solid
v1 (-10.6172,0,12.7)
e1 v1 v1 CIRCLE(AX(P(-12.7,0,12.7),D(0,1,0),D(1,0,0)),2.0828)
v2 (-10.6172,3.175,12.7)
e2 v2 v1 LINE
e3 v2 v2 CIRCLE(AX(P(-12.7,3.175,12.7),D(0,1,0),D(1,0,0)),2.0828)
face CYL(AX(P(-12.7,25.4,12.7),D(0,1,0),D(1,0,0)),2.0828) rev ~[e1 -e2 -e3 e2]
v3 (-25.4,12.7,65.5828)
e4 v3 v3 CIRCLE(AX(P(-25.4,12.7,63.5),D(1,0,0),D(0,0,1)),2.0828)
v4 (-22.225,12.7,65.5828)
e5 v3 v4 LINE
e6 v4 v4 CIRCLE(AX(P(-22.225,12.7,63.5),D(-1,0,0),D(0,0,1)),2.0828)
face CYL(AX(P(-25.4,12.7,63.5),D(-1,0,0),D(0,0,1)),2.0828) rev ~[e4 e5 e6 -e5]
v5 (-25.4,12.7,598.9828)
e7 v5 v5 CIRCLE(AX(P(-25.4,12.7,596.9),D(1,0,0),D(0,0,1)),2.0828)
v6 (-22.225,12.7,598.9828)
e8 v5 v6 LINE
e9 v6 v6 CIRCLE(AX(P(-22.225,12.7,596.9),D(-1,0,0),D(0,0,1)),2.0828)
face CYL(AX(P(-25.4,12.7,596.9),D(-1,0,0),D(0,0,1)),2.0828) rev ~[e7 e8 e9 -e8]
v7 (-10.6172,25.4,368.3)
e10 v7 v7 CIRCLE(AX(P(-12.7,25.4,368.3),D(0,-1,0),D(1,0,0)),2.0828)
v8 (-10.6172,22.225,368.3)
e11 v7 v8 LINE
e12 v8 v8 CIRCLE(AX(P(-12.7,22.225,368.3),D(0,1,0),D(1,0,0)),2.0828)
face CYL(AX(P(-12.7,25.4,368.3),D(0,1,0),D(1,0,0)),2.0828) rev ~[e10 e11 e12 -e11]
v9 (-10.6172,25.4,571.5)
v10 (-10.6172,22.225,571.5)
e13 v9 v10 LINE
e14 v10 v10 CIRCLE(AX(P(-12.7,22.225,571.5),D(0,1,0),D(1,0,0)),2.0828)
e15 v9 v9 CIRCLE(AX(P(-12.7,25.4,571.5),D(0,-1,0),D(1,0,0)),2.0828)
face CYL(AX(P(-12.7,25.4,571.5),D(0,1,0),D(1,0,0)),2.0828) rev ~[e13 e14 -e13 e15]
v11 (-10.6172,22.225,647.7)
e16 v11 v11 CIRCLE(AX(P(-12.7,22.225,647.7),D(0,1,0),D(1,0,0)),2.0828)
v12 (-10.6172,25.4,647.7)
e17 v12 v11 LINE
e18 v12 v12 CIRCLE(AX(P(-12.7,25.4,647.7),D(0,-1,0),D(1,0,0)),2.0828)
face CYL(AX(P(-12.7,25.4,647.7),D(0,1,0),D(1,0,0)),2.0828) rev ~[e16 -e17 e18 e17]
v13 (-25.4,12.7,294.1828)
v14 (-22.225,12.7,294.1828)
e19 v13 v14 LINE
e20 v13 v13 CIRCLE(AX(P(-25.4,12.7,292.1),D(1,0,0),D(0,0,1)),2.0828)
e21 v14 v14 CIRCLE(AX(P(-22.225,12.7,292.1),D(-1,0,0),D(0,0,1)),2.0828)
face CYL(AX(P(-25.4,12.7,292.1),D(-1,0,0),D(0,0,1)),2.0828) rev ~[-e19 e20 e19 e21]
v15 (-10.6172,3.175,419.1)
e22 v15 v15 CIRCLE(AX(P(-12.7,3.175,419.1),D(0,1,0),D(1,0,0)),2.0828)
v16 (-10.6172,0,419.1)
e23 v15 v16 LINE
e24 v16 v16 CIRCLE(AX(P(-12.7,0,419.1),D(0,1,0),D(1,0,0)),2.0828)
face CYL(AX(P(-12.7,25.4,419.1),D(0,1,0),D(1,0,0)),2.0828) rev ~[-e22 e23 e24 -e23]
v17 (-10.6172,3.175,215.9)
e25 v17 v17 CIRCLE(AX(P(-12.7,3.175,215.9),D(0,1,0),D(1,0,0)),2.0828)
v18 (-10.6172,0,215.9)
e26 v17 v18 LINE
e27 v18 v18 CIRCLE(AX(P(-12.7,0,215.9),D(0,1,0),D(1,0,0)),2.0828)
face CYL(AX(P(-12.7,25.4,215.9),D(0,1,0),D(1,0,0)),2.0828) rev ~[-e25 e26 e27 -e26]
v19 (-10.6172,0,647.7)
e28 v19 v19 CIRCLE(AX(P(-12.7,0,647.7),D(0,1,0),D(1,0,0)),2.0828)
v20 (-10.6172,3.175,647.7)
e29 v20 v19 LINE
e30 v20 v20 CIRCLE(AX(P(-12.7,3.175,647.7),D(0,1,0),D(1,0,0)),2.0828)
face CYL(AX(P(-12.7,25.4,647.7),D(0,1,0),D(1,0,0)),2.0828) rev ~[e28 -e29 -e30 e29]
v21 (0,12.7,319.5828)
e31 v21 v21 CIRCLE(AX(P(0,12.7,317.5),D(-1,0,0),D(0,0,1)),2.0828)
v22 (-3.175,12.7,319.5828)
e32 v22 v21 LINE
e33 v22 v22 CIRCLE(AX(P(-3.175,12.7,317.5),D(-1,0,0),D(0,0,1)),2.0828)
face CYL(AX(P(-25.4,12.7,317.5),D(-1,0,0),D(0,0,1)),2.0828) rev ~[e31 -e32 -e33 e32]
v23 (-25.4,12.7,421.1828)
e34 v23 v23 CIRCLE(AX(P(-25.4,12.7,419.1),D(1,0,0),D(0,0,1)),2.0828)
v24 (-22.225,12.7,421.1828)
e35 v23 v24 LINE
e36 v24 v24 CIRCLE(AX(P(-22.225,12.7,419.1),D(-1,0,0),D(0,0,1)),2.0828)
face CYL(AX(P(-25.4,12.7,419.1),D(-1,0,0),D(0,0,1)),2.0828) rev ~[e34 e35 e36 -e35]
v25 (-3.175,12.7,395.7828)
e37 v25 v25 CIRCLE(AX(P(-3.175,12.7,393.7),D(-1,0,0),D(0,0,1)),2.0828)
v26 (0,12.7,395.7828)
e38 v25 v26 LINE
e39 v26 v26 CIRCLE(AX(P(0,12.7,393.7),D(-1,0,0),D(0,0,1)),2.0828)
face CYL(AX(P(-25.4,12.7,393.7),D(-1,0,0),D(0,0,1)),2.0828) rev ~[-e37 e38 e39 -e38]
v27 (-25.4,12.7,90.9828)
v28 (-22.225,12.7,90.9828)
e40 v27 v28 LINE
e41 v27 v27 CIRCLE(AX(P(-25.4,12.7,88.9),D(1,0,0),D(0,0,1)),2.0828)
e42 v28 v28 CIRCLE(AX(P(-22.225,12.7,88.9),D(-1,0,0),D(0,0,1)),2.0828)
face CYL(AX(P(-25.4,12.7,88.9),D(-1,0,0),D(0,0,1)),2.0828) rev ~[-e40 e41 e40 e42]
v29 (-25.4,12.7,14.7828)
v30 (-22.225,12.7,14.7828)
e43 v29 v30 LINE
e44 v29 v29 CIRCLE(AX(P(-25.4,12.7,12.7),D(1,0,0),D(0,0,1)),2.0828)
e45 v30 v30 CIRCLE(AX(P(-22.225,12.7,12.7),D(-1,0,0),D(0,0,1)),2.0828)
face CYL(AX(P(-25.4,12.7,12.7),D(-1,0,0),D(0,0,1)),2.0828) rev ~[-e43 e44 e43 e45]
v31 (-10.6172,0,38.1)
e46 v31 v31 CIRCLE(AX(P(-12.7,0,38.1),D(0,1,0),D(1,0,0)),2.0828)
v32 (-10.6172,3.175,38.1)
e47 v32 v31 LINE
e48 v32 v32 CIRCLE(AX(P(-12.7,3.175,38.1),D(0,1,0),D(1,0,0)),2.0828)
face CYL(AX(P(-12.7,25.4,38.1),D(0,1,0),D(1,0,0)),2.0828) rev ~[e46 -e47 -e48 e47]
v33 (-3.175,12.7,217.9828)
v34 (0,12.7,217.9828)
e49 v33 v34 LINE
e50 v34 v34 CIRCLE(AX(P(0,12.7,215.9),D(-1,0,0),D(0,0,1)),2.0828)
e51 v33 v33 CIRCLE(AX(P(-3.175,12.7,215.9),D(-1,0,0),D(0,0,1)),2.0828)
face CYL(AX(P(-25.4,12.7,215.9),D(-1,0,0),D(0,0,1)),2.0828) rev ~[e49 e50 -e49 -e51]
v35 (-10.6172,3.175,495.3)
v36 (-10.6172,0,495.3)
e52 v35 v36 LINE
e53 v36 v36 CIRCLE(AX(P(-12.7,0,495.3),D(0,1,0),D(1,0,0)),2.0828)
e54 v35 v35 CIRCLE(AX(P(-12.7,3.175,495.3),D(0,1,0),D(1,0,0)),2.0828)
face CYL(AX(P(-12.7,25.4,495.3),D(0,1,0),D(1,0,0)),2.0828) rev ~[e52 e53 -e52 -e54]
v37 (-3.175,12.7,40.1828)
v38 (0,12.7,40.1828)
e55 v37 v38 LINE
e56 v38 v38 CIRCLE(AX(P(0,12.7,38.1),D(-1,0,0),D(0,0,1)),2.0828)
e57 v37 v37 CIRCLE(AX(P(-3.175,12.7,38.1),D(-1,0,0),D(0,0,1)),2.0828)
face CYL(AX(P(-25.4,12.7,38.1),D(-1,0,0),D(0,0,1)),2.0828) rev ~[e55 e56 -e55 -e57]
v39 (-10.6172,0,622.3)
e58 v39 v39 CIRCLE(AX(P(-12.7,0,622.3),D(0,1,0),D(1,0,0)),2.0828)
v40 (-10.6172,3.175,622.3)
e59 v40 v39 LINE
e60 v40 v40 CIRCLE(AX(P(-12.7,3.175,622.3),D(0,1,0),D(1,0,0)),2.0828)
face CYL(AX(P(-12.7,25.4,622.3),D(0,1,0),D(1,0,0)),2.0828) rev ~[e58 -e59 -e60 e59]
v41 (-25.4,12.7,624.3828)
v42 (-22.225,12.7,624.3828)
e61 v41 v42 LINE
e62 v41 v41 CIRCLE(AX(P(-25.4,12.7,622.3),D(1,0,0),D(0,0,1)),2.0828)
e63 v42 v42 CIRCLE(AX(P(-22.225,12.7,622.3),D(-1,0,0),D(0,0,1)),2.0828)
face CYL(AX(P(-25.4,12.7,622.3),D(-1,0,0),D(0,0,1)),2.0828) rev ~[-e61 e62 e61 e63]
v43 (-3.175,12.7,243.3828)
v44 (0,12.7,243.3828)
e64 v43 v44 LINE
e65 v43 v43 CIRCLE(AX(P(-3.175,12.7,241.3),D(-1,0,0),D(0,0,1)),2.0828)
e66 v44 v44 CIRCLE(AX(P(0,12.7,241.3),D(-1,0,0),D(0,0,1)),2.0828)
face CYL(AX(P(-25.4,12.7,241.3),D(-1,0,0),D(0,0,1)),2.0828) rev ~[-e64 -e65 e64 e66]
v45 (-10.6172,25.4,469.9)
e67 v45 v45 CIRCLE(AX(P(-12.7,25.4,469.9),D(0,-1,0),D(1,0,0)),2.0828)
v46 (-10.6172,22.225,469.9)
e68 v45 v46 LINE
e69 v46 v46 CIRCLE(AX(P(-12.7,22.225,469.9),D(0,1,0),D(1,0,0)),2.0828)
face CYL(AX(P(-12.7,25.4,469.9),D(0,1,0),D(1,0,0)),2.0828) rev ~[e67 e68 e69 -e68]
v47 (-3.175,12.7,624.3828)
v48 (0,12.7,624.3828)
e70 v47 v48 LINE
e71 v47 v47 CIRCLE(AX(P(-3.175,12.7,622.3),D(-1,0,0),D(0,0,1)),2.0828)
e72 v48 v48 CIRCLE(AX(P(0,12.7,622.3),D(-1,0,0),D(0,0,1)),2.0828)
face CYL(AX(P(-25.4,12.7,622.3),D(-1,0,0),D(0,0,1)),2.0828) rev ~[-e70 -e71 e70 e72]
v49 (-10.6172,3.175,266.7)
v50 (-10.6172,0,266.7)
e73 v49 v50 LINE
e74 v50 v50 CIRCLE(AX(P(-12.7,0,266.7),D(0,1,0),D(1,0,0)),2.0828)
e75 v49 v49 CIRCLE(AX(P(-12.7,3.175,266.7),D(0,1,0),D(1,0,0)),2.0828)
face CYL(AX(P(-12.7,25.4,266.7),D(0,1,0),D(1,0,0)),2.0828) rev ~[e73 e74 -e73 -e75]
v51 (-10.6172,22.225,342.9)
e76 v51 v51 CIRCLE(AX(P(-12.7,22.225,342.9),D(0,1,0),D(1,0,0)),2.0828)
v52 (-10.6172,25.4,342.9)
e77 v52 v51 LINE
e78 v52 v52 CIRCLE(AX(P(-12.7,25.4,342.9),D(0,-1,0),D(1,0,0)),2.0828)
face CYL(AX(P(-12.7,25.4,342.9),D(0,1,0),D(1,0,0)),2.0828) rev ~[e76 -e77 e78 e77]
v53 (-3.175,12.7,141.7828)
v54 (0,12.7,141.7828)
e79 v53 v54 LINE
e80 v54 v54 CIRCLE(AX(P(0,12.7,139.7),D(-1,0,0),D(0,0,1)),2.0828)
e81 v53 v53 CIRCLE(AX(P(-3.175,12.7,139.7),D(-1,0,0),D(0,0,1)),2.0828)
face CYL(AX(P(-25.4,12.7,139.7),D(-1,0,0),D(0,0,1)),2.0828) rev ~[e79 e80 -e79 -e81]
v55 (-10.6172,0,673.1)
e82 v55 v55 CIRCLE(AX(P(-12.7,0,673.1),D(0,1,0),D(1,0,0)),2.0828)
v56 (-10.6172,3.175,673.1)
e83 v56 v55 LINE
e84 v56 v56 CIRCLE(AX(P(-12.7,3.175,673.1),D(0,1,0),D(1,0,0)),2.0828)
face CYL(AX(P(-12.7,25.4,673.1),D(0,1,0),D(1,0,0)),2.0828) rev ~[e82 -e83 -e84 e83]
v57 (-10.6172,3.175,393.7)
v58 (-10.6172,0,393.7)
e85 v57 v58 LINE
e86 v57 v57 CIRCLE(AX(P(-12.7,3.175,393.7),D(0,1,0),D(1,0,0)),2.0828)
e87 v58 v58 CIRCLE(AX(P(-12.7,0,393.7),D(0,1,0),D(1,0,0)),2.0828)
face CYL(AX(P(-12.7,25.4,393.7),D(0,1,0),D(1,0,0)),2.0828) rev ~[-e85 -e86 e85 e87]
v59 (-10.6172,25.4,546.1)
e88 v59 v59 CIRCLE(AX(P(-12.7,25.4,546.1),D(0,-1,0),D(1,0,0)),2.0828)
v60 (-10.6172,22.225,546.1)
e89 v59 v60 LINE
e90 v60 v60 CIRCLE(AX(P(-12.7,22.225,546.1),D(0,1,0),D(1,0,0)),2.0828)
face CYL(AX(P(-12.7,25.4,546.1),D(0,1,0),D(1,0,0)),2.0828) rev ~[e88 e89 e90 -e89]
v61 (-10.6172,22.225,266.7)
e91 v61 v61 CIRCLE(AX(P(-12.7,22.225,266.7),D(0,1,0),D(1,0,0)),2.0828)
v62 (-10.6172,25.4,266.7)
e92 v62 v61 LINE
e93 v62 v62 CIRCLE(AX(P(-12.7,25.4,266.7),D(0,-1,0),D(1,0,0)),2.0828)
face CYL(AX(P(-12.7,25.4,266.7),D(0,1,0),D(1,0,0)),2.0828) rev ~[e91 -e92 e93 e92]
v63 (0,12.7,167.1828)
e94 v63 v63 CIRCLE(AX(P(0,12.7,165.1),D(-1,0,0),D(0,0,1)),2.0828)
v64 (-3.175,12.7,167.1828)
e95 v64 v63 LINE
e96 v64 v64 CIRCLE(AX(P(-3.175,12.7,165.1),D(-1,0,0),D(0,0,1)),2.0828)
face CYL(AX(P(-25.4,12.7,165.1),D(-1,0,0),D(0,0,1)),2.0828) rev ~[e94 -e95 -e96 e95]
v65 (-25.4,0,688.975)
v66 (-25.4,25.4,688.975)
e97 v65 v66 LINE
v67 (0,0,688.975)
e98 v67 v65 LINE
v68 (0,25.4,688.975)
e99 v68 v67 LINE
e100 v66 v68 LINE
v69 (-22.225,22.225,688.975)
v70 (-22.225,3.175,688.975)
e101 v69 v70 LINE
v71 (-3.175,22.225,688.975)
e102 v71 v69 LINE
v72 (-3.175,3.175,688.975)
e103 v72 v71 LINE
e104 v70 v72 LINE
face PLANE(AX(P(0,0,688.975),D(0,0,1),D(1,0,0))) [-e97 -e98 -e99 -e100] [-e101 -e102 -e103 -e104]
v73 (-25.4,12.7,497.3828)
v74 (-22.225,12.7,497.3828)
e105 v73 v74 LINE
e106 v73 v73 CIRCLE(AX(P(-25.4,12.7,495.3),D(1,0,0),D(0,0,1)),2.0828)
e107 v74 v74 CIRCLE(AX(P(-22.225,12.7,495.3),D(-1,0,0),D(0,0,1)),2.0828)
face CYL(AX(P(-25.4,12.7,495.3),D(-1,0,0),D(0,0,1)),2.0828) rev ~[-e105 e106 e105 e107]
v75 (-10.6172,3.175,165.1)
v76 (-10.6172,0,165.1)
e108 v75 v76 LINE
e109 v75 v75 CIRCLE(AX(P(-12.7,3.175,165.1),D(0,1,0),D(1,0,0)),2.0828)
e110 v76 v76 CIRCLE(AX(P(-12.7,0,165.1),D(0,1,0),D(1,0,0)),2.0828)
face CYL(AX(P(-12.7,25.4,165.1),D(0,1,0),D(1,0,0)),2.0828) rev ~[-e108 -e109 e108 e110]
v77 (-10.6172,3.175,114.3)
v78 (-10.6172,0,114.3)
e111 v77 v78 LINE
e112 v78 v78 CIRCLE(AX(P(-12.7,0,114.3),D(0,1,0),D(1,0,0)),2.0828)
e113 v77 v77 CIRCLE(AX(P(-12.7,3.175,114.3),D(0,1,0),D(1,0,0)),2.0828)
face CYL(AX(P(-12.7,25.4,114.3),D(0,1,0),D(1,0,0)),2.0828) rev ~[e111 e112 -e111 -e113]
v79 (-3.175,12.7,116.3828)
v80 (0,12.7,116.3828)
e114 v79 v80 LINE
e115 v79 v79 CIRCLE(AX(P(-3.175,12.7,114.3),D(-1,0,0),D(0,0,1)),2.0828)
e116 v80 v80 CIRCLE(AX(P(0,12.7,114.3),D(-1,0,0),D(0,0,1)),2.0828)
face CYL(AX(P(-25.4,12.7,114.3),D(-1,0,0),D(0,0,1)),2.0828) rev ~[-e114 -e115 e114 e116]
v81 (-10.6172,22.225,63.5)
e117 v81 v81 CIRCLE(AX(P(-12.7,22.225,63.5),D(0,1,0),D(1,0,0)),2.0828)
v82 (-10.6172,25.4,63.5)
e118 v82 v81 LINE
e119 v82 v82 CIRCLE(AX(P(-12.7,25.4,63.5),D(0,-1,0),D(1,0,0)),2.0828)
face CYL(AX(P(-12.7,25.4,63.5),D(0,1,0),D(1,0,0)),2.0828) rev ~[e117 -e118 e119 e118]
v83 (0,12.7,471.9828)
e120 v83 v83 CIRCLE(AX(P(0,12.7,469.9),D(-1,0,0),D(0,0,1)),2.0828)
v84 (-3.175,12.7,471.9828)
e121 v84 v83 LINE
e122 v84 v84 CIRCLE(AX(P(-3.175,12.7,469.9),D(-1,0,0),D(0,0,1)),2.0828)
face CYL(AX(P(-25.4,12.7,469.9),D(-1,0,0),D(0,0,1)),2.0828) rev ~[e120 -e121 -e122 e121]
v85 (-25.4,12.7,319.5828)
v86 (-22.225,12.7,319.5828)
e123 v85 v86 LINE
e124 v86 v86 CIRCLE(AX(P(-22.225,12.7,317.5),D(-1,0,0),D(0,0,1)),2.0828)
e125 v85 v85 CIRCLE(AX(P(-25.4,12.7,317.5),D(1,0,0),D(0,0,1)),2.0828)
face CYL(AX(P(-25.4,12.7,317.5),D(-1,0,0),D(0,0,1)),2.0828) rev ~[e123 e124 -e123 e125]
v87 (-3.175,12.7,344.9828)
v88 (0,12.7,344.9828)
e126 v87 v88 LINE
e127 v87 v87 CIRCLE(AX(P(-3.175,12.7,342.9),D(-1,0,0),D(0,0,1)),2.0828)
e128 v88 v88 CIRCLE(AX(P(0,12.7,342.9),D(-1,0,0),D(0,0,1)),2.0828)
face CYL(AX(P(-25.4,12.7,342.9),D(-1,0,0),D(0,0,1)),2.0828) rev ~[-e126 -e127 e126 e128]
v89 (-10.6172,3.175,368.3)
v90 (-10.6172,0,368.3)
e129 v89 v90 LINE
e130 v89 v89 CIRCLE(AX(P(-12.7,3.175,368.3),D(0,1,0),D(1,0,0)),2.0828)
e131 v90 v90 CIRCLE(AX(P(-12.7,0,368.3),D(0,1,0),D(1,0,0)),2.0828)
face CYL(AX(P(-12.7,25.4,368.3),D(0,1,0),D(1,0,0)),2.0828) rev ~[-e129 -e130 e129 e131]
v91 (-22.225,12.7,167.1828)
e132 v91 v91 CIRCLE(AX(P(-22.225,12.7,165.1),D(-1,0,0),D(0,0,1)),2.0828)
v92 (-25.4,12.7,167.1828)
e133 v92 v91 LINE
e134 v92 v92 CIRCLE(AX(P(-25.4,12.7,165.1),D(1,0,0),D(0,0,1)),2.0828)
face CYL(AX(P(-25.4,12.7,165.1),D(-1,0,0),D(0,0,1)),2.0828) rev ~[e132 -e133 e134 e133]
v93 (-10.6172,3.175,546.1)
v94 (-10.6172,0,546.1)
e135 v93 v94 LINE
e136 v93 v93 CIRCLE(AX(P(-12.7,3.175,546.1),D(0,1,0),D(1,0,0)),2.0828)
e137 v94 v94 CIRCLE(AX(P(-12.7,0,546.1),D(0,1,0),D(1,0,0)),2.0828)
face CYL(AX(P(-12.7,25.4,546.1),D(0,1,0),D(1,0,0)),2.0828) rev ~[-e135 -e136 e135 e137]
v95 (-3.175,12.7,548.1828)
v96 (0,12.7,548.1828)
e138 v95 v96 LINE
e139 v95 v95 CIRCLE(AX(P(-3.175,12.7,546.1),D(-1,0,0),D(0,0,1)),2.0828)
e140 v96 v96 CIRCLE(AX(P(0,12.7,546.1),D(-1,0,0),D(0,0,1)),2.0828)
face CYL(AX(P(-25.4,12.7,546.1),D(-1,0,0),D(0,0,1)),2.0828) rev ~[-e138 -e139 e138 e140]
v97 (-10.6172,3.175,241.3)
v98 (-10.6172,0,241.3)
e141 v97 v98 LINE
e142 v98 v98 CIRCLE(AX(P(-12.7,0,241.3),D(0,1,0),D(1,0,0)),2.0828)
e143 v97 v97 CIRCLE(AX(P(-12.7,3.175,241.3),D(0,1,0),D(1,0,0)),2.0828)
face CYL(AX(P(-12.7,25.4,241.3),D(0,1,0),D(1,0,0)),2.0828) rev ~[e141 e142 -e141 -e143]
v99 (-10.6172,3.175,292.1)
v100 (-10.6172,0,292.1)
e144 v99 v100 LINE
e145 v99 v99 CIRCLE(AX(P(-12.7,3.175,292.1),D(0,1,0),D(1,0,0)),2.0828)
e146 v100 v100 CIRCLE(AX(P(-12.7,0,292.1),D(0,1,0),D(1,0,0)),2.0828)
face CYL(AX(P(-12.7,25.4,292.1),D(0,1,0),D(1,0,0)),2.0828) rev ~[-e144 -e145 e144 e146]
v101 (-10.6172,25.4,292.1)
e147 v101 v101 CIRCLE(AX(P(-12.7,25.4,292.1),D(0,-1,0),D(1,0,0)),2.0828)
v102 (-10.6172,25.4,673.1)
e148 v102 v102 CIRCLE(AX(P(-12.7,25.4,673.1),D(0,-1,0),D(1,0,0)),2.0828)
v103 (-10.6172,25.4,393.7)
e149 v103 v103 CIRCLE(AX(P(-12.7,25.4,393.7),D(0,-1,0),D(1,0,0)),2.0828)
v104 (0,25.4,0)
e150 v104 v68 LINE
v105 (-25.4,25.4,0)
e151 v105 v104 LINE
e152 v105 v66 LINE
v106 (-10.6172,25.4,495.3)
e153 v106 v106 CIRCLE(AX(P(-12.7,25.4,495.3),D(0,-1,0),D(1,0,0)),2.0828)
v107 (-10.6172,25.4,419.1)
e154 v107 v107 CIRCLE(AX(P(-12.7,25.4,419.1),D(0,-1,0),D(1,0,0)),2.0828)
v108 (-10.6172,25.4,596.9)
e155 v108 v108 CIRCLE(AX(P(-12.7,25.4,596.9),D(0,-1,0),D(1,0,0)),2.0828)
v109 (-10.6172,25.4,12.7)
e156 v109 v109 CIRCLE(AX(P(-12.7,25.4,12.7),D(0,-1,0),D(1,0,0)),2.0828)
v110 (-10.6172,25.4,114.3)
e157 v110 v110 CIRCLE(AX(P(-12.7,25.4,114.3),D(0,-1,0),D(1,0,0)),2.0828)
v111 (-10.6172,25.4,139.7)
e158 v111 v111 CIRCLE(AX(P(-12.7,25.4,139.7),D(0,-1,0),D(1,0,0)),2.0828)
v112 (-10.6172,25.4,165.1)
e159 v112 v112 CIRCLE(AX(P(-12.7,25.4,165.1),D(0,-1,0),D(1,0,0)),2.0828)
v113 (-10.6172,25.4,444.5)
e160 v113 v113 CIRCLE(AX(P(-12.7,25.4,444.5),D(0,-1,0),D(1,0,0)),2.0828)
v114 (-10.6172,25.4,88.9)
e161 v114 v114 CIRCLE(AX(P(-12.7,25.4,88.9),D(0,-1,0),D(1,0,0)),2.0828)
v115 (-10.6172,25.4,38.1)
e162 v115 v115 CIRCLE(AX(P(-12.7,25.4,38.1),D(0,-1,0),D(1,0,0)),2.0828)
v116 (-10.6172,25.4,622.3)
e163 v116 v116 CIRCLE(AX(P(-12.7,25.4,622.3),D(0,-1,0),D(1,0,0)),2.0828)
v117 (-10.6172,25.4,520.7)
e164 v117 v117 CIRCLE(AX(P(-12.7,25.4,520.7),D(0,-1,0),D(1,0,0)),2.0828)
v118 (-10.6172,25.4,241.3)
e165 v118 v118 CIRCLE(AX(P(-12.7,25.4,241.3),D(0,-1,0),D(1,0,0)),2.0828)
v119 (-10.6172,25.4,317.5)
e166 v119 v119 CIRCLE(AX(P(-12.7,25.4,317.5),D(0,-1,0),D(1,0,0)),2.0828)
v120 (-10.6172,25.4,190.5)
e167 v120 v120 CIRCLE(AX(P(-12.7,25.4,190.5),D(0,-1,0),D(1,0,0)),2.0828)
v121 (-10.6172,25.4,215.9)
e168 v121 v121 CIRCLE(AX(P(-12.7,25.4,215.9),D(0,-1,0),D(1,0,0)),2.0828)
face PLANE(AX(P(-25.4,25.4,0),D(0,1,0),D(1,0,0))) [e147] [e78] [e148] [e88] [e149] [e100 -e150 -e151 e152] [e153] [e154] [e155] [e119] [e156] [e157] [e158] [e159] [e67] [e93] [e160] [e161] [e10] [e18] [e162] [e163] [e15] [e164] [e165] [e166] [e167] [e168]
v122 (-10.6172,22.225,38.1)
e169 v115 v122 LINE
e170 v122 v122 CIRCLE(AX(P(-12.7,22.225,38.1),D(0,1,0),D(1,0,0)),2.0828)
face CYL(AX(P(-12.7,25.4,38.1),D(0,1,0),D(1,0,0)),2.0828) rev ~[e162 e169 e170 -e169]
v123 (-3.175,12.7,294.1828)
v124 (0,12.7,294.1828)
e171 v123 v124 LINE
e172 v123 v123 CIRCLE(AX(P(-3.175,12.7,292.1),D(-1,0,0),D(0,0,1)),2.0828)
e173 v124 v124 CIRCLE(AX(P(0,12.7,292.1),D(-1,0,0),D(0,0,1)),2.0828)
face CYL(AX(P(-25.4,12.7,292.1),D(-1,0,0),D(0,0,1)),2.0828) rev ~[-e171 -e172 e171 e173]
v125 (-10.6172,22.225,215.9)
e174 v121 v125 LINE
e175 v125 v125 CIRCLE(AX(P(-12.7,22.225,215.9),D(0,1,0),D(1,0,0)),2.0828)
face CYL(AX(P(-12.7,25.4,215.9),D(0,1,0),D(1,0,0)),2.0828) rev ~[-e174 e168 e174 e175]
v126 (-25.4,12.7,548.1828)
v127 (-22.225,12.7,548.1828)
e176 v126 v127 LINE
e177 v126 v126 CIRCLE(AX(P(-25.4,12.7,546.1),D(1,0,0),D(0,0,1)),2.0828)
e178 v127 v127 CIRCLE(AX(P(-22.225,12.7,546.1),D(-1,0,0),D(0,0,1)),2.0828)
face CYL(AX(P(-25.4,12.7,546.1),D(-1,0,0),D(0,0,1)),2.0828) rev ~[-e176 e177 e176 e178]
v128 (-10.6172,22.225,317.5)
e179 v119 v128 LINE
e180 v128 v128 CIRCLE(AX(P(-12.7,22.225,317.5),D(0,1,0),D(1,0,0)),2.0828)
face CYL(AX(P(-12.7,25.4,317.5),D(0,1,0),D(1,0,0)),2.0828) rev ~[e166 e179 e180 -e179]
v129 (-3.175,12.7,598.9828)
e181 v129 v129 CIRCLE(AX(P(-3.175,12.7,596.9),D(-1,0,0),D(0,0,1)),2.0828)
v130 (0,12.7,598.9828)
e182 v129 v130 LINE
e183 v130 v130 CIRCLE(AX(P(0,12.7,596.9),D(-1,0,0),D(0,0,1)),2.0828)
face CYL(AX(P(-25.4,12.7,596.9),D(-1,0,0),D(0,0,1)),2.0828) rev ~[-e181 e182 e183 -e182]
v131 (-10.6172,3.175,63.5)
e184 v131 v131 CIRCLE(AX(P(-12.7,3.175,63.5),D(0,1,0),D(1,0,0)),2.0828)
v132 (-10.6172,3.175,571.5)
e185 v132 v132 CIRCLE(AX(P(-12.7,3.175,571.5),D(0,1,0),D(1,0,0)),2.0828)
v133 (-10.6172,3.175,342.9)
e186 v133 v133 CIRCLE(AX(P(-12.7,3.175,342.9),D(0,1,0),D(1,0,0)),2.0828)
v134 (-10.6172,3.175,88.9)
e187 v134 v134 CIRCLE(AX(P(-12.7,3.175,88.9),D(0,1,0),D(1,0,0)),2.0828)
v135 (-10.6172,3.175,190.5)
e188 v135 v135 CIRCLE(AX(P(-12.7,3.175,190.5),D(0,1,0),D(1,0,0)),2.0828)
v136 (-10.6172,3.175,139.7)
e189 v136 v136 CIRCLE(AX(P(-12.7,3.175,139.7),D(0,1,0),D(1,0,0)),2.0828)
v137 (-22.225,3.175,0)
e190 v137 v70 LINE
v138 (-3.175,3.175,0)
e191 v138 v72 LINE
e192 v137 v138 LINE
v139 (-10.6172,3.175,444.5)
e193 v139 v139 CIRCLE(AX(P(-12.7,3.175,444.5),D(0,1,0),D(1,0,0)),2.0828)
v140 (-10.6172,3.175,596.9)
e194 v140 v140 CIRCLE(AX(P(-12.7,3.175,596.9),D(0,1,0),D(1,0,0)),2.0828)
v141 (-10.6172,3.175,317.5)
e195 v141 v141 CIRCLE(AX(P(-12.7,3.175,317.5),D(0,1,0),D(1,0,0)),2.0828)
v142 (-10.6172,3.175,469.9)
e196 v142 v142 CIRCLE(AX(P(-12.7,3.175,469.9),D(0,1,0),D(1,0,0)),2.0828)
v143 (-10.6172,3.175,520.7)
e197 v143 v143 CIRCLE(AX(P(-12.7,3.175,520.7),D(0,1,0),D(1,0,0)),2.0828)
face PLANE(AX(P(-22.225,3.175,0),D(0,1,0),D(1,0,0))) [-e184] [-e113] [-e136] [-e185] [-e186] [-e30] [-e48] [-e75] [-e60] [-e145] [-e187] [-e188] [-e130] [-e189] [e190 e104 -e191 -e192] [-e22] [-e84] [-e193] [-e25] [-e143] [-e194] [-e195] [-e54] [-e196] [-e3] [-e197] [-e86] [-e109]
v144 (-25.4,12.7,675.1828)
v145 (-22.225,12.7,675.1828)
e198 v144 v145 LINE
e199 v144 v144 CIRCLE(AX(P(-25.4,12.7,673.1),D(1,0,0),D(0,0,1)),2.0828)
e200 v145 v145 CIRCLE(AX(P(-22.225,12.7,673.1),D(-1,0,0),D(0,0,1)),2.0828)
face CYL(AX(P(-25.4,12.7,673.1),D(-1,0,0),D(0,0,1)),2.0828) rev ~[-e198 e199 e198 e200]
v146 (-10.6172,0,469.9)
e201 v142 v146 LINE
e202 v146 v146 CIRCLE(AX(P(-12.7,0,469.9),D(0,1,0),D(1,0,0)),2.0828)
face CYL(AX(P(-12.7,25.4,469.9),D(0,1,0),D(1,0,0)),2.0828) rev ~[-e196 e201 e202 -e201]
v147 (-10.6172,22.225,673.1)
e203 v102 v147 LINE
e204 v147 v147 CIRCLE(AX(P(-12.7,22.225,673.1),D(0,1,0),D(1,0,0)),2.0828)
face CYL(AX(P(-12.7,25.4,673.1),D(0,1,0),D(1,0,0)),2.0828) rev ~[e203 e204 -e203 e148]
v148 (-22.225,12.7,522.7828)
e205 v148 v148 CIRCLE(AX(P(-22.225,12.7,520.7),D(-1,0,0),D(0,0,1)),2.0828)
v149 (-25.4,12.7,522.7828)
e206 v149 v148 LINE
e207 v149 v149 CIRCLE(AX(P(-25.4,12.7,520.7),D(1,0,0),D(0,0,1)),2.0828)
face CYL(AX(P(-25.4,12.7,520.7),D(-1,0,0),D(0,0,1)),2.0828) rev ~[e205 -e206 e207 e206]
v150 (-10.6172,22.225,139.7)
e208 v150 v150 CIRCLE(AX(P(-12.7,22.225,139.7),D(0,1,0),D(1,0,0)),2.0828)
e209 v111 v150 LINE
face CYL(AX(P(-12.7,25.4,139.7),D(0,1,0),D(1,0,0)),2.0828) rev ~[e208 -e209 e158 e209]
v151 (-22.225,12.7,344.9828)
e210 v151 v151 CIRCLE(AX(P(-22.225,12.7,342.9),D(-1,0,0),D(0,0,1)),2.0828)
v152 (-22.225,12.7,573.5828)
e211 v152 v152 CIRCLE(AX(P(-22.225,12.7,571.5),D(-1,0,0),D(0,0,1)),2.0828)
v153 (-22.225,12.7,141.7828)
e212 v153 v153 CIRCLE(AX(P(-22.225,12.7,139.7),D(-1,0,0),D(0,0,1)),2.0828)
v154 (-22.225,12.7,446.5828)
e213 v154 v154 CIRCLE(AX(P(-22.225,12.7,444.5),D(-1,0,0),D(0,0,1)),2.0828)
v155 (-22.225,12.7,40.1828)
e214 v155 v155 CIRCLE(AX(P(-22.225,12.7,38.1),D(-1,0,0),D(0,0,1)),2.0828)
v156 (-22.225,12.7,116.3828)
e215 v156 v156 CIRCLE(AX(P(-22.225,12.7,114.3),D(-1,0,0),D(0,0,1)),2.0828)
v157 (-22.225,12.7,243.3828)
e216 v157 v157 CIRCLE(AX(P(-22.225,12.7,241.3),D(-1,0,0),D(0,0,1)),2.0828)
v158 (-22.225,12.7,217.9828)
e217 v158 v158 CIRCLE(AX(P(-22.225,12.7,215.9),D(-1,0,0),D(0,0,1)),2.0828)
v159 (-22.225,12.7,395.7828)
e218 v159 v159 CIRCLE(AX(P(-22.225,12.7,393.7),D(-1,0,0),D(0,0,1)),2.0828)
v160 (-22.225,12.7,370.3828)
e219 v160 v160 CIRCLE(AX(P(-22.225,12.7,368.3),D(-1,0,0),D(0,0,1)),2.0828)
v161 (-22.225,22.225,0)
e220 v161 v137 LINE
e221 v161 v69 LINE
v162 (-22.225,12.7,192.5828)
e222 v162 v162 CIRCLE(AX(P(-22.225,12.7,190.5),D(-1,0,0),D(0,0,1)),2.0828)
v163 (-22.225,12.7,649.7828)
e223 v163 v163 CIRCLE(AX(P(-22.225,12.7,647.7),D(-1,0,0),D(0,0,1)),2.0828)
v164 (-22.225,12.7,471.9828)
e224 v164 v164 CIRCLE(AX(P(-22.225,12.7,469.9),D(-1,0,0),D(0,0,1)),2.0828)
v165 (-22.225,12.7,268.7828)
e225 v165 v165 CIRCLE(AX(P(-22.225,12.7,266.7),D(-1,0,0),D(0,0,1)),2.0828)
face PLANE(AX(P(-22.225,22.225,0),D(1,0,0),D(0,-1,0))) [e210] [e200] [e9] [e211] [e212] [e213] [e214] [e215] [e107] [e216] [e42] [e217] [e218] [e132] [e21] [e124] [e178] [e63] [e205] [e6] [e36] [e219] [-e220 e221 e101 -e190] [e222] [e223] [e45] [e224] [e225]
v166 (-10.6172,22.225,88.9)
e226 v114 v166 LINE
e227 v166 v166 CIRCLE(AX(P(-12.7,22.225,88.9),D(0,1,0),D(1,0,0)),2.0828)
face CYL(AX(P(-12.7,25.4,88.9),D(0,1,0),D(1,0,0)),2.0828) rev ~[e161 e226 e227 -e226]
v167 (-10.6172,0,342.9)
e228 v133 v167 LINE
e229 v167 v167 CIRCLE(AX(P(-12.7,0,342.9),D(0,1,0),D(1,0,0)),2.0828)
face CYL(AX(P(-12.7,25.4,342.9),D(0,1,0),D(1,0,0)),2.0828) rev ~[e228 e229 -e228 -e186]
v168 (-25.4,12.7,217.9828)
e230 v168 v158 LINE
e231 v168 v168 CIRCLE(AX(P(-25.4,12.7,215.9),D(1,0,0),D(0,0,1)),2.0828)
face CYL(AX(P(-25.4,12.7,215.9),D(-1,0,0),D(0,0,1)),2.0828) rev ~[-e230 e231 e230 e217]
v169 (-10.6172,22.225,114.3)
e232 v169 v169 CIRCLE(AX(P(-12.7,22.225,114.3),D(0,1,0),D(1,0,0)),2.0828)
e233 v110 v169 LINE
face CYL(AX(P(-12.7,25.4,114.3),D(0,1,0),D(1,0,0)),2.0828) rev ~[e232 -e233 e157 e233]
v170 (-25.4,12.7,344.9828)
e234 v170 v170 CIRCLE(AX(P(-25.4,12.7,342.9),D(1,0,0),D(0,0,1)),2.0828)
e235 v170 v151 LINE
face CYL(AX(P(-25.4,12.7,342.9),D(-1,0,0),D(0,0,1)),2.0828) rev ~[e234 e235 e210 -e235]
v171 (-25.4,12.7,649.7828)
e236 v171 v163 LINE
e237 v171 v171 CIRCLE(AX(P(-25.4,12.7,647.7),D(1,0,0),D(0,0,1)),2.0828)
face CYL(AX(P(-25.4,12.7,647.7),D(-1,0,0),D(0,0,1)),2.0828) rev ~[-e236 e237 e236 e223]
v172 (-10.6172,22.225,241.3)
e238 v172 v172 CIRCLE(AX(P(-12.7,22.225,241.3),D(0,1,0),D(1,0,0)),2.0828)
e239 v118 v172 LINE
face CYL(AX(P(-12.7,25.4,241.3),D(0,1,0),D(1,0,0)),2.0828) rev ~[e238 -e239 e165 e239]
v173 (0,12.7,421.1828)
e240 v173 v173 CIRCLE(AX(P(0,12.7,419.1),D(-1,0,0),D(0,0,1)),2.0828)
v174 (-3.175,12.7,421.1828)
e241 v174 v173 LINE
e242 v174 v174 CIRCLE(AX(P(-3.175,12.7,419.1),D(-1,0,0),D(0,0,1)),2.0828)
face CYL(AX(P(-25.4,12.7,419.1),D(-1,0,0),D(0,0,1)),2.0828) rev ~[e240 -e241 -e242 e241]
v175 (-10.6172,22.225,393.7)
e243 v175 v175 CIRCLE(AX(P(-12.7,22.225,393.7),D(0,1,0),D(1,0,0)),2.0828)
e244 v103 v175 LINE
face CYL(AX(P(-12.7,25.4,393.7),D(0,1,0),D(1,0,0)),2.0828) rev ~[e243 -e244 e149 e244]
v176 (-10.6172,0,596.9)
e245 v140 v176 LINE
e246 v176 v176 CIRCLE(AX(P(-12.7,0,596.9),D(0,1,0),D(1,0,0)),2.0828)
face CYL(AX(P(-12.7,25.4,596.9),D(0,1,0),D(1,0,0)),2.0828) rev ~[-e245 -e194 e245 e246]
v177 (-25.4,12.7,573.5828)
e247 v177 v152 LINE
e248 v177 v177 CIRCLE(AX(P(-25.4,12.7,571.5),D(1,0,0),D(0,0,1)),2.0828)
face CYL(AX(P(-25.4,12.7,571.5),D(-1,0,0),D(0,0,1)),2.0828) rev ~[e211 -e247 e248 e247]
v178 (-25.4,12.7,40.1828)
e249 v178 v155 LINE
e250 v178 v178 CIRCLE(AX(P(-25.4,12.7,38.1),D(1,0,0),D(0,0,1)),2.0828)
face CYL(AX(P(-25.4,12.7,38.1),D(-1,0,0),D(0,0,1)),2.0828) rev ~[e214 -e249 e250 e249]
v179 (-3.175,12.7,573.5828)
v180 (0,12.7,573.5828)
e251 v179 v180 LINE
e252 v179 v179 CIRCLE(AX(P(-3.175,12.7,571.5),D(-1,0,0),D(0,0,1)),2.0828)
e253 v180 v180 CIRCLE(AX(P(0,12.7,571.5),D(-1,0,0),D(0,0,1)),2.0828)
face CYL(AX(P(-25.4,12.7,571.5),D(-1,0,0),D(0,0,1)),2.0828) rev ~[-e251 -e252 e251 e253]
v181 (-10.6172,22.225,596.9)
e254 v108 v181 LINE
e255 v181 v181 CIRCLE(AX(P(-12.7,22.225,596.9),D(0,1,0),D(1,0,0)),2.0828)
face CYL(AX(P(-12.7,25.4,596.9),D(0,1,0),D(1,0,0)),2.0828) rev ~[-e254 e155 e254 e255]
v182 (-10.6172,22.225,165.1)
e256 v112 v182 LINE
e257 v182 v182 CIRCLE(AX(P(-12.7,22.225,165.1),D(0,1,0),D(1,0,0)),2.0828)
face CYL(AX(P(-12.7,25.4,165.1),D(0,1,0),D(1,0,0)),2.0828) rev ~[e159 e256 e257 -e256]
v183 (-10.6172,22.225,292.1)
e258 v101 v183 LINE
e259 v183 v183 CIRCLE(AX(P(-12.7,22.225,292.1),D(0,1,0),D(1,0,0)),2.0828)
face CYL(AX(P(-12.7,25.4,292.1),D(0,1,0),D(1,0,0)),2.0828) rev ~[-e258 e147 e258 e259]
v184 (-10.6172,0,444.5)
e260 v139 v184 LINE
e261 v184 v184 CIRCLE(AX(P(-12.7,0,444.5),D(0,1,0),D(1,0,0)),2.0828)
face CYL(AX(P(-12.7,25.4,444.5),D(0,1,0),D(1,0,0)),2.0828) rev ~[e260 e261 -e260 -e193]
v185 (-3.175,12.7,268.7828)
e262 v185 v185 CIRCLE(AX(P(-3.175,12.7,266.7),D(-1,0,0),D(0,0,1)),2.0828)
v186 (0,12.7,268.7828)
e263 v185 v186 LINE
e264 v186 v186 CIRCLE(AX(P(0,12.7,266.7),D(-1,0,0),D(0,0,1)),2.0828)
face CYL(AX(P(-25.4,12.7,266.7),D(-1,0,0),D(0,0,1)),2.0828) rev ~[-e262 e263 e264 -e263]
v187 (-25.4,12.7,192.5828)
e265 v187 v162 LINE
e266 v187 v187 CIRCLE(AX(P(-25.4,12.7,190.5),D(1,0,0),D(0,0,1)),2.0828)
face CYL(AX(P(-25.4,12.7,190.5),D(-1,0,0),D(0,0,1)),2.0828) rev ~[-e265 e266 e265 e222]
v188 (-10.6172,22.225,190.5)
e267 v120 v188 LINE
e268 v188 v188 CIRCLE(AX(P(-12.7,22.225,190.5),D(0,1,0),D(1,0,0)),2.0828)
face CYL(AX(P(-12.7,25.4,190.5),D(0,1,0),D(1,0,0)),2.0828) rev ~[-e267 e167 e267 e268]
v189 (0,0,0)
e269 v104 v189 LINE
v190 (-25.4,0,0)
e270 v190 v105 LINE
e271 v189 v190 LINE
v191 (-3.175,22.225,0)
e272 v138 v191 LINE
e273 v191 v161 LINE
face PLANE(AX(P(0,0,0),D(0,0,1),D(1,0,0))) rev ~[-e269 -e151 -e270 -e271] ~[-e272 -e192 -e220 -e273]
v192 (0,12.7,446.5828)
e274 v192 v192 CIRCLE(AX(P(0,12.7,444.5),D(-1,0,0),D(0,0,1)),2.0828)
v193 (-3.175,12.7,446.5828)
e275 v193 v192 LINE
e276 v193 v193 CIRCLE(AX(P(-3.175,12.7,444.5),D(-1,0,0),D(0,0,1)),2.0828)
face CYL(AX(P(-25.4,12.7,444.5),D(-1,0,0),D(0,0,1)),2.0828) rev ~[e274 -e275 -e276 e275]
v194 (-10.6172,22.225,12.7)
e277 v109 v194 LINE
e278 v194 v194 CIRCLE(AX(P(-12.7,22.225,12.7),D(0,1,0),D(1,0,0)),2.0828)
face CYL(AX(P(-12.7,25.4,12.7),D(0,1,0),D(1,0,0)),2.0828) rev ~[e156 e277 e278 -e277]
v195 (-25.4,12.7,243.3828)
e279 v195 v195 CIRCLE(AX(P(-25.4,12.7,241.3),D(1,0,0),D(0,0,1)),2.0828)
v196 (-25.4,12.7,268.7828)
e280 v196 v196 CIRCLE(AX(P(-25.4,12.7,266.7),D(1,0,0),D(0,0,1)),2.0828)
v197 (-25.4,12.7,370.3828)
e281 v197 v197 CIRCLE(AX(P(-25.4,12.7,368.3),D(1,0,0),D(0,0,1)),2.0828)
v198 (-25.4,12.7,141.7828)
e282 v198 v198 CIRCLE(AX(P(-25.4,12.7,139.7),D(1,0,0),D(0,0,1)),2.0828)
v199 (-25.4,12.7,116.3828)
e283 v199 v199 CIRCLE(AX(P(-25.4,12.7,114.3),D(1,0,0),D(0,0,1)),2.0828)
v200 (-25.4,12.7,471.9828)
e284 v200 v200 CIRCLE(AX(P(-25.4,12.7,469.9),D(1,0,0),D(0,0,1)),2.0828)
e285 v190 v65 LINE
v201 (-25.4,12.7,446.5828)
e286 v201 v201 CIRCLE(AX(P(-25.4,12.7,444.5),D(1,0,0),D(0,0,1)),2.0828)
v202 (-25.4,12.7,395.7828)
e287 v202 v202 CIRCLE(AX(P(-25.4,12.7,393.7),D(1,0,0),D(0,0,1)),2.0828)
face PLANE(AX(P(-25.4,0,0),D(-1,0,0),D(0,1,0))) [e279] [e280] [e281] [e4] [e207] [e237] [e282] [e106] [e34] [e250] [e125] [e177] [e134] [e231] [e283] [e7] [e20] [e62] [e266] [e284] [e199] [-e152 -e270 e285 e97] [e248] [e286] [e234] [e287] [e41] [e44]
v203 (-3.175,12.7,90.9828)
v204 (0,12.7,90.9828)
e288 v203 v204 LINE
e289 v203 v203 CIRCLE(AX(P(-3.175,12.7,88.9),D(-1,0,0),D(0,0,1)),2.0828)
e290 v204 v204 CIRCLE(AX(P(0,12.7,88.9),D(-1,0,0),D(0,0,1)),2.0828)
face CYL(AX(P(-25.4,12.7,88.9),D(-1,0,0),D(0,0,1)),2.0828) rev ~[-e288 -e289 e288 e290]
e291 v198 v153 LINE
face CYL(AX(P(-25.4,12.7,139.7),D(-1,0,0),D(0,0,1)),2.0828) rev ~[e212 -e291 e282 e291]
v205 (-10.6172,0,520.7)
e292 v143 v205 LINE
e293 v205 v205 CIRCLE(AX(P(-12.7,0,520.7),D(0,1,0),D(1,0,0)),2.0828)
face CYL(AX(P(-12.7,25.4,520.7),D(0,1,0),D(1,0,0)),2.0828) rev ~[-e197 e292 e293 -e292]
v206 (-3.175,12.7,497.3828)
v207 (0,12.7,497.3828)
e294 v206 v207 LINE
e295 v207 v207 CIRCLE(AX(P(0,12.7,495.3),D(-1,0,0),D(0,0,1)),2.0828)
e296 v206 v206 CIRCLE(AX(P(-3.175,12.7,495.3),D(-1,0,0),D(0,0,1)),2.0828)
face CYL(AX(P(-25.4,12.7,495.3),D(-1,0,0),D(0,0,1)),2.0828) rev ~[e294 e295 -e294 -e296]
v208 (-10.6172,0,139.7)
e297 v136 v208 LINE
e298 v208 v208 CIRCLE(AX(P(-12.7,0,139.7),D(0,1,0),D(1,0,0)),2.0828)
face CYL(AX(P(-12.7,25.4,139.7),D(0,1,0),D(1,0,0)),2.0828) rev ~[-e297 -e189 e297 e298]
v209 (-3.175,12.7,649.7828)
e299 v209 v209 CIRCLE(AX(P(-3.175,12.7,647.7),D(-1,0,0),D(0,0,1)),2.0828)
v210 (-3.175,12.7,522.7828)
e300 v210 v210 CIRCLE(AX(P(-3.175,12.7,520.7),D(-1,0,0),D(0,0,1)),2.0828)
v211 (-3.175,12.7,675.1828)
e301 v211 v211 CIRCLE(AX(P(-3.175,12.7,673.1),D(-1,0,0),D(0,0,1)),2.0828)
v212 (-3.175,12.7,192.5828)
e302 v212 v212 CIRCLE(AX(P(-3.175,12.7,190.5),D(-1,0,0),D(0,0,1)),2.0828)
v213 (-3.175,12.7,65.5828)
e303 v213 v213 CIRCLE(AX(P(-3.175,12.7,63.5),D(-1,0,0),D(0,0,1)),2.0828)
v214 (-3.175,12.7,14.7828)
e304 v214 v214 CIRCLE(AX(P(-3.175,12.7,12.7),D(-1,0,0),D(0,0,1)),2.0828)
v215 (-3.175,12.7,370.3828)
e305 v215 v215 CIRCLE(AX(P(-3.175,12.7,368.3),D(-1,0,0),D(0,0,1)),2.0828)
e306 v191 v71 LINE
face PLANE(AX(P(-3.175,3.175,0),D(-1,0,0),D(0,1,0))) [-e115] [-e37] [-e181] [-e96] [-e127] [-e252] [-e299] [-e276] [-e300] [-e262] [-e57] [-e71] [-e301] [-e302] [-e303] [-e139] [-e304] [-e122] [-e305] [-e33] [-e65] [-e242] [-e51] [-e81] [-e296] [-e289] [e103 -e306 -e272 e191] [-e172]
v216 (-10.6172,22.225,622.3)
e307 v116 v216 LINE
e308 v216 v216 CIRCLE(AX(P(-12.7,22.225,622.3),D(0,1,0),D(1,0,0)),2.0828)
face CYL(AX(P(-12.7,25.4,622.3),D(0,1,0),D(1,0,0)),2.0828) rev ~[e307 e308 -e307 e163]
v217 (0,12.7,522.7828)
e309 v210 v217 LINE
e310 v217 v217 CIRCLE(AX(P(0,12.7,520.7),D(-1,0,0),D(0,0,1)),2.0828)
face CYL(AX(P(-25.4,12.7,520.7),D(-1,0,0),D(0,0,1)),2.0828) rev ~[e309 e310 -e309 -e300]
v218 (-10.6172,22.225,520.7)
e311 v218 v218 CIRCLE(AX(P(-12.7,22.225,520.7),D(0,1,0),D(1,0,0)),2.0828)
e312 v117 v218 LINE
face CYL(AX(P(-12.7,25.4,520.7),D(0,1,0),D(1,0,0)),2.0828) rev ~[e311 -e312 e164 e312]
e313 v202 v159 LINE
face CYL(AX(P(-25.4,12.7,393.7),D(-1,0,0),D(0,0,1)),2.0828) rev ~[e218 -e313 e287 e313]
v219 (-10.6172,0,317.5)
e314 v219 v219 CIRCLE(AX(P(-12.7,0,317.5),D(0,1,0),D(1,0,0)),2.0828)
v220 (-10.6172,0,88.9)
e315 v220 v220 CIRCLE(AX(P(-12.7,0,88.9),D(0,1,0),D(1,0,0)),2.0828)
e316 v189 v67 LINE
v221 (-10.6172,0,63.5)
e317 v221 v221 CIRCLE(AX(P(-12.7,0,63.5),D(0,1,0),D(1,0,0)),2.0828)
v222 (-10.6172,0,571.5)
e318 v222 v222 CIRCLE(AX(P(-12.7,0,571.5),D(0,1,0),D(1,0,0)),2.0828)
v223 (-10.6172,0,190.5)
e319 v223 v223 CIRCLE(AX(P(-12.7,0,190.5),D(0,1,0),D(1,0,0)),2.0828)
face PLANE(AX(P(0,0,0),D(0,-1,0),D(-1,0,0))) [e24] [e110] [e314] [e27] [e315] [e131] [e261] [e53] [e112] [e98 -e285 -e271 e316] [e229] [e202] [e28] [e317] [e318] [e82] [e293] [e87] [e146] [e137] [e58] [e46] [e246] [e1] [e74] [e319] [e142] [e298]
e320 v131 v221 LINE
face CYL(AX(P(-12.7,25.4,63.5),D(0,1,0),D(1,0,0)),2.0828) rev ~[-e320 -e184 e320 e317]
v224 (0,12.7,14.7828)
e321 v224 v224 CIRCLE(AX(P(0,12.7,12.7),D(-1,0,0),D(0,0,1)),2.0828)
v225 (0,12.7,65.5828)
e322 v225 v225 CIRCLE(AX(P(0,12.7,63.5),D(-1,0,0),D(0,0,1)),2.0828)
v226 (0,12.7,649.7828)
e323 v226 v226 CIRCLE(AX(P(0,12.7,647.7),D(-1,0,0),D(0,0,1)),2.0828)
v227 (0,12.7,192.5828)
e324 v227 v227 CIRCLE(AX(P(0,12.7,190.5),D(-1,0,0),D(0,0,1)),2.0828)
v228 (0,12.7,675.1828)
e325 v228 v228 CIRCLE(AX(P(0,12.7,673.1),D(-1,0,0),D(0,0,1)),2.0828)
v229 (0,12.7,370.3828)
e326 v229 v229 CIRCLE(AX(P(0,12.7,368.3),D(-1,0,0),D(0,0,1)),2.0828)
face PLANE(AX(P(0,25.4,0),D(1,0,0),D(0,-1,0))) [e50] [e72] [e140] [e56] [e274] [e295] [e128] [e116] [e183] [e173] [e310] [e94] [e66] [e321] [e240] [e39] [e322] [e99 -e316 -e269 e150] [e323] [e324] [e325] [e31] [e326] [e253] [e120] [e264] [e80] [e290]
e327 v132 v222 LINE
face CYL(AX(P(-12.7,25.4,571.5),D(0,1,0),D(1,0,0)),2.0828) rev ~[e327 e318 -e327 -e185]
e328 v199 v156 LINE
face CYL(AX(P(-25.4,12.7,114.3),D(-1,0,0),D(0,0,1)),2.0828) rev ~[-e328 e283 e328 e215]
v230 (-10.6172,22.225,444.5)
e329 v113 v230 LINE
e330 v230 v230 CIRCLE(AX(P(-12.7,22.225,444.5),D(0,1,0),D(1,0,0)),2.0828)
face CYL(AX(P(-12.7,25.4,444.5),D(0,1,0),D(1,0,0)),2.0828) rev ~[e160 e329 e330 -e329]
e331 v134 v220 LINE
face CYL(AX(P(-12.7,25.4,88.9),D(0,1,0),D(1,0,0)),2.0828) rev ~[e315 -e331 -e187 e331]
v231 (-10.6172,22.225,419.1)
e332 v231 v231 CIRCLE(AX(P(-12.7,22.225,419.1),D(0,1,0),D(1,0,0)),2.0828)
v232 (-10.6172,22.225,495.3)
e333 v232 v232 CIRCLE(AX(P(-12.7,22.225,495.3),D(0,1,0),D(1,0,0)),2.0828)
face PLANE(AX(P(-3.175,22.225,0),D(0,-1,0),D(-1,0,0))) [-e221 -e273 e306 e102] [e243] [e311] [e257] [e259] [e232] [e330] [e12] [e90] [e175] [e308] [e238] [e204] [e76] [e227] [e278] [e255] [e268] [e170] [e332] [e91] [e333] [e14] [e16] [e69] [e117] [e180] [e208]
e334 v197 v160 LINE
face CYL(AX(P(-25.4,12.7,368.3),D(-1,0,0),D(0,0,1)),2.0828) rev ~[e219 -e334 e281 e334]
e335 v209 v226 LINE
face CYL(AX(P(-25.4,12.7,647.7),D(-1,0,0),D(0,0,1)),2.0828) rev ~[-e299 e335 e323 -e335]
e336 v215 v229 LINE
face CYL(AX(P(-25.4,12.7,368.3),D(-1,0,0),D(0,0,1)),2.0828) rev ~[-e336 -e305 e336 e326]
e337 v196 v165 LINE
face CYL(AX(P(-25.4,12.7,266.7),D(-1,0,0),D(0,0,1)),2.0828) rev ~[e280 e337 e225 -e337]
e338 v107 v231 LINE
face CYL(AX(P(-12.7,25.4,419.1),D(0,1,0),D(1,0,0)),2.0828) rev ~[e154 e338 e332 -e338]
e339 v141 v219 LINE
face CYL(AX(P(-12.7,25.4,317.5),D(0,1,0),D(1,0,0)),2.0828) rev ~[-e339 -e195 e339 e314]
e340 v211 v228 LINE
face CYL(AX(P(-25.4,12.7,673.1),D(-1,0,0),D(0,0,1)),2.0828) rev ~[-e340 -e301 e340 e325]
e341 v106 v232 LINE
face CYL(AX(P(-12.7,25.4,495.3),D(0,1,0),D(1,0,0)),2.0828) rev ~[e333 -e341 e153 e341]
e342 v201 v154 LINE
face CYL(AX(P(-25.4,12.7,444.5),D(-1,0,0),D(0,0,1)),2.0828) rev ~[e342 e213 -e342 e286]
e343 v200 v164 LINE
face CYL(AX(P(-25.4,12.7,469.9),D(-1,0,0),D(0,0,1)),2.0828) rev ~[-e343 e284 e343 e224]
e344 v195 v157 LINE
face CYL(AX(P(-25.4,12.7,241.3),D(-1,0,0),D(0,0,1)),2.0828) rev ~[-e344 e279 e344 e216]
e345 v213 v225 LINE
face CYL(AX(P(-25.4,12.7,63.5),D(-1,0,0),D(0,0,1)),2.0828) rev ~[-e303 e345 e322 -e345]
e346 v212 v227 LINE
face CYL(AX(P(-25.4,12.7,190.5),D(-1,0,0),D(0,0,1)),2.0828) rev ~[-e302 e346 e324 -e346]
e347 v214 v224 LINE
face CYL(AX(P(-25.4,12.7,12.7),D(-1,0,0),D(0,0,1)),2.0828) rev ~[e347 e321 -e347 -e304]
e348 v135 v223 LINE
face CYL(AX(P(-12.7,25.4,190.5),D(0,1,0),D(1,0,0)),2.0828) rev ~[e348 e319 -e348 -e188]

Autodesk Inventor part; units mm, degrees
ref_plane "YZ Plane" through (0, 0, 0) normal (1, 0, 0) x (0, 1, 0)
ref_plane "XZ Plane" through (0, 0, 0) normal (0, 1, 0) x (-1, 0, 0)
ref_plane "XY Plane" through (0, 0, 0) normal (0, 0, 1) x (1, 0, 0)
sketch "Sketch1" plane through (0, 0, 0) normal (0, 0, 1) x (1, 0, 0)
  line L0 (0, 0) -> (-25.4, 0)
  line L1 (-25.4, 0) -> (-25.4, 25.4)
  line L2 (-25.4, 25.4) -> (0, 25.4)
  line L3 (0, 25.4) -> (0, 0)
  line L4 (-3.175, 22.225) -> (-22.225, 22.225)
  line L5 (-22.225, 22.225) -> (-22.225, 3.175)
  line L6 (-22.225, 3.175) -> (-3.175, 3.175)
  line L7 (-3.175, 3.175) -> (-3.175, 22.225)
  dimension "d0" = 25.4
  dimension "d1" = 25.4
  dimension "d2" = 3.175
extrude "Extrusion1" add sketch "Sketch1" along normal blind 688.975
sketch "Sketch3" plane through (-25.4, 25.4, 0) normal (0, 1, 0) x (1, 0, 0)
  line L0 (0, 0) -> (25.4, 0) projected
  line L1 (25.4, 0) -> (25.4, -688.975) projected
  line L2 (12.7, 0) -> (12.7, -12.7)
  circle A0 centre (12.7, -12.7) radius 2.0828
  dimension "d5" = 12.7
  dimension "d6" = 4.1656
extrude "Extrusion2" cut sketch "Sketch3" against normal blind 25.4
sketch "Sketch2" plane through (-25.4, 0, 0) normal (-1, 0, 0) x (0, 0, 1)
  line L0 (0, 0) -> (0, 25.4) projected
  line L1 (0, 0) -> (688.975, 0) projected
  line L2 (688.975, 25.4) -> (688.975, 0) projected
  line L3 (0, 25.4) -> (688.975, 25.4) projected
  line L4 (0, 12.7) -> (12.7, 12.7)
  circle A0 centre (12.7, 12.7) radius 2.0828
  dimension "d12" = 12.7
  dimension "d13" = 4.1656
pattern_linear "Rectangular Pattern1" count 27 spacing 25.4 along (0, 0, 1) of "Extrusion2"
extrude "Extrusion3" cut sketch "Sketch2" against normal blind 25.4 contours A0
pattern_linear "Rectangular Pattern2" count 27 spacing 25.4 along (0, 0, 1) of "Extrusion3"
properties part number "chassis front back rail" material "Aluminum 6061"
